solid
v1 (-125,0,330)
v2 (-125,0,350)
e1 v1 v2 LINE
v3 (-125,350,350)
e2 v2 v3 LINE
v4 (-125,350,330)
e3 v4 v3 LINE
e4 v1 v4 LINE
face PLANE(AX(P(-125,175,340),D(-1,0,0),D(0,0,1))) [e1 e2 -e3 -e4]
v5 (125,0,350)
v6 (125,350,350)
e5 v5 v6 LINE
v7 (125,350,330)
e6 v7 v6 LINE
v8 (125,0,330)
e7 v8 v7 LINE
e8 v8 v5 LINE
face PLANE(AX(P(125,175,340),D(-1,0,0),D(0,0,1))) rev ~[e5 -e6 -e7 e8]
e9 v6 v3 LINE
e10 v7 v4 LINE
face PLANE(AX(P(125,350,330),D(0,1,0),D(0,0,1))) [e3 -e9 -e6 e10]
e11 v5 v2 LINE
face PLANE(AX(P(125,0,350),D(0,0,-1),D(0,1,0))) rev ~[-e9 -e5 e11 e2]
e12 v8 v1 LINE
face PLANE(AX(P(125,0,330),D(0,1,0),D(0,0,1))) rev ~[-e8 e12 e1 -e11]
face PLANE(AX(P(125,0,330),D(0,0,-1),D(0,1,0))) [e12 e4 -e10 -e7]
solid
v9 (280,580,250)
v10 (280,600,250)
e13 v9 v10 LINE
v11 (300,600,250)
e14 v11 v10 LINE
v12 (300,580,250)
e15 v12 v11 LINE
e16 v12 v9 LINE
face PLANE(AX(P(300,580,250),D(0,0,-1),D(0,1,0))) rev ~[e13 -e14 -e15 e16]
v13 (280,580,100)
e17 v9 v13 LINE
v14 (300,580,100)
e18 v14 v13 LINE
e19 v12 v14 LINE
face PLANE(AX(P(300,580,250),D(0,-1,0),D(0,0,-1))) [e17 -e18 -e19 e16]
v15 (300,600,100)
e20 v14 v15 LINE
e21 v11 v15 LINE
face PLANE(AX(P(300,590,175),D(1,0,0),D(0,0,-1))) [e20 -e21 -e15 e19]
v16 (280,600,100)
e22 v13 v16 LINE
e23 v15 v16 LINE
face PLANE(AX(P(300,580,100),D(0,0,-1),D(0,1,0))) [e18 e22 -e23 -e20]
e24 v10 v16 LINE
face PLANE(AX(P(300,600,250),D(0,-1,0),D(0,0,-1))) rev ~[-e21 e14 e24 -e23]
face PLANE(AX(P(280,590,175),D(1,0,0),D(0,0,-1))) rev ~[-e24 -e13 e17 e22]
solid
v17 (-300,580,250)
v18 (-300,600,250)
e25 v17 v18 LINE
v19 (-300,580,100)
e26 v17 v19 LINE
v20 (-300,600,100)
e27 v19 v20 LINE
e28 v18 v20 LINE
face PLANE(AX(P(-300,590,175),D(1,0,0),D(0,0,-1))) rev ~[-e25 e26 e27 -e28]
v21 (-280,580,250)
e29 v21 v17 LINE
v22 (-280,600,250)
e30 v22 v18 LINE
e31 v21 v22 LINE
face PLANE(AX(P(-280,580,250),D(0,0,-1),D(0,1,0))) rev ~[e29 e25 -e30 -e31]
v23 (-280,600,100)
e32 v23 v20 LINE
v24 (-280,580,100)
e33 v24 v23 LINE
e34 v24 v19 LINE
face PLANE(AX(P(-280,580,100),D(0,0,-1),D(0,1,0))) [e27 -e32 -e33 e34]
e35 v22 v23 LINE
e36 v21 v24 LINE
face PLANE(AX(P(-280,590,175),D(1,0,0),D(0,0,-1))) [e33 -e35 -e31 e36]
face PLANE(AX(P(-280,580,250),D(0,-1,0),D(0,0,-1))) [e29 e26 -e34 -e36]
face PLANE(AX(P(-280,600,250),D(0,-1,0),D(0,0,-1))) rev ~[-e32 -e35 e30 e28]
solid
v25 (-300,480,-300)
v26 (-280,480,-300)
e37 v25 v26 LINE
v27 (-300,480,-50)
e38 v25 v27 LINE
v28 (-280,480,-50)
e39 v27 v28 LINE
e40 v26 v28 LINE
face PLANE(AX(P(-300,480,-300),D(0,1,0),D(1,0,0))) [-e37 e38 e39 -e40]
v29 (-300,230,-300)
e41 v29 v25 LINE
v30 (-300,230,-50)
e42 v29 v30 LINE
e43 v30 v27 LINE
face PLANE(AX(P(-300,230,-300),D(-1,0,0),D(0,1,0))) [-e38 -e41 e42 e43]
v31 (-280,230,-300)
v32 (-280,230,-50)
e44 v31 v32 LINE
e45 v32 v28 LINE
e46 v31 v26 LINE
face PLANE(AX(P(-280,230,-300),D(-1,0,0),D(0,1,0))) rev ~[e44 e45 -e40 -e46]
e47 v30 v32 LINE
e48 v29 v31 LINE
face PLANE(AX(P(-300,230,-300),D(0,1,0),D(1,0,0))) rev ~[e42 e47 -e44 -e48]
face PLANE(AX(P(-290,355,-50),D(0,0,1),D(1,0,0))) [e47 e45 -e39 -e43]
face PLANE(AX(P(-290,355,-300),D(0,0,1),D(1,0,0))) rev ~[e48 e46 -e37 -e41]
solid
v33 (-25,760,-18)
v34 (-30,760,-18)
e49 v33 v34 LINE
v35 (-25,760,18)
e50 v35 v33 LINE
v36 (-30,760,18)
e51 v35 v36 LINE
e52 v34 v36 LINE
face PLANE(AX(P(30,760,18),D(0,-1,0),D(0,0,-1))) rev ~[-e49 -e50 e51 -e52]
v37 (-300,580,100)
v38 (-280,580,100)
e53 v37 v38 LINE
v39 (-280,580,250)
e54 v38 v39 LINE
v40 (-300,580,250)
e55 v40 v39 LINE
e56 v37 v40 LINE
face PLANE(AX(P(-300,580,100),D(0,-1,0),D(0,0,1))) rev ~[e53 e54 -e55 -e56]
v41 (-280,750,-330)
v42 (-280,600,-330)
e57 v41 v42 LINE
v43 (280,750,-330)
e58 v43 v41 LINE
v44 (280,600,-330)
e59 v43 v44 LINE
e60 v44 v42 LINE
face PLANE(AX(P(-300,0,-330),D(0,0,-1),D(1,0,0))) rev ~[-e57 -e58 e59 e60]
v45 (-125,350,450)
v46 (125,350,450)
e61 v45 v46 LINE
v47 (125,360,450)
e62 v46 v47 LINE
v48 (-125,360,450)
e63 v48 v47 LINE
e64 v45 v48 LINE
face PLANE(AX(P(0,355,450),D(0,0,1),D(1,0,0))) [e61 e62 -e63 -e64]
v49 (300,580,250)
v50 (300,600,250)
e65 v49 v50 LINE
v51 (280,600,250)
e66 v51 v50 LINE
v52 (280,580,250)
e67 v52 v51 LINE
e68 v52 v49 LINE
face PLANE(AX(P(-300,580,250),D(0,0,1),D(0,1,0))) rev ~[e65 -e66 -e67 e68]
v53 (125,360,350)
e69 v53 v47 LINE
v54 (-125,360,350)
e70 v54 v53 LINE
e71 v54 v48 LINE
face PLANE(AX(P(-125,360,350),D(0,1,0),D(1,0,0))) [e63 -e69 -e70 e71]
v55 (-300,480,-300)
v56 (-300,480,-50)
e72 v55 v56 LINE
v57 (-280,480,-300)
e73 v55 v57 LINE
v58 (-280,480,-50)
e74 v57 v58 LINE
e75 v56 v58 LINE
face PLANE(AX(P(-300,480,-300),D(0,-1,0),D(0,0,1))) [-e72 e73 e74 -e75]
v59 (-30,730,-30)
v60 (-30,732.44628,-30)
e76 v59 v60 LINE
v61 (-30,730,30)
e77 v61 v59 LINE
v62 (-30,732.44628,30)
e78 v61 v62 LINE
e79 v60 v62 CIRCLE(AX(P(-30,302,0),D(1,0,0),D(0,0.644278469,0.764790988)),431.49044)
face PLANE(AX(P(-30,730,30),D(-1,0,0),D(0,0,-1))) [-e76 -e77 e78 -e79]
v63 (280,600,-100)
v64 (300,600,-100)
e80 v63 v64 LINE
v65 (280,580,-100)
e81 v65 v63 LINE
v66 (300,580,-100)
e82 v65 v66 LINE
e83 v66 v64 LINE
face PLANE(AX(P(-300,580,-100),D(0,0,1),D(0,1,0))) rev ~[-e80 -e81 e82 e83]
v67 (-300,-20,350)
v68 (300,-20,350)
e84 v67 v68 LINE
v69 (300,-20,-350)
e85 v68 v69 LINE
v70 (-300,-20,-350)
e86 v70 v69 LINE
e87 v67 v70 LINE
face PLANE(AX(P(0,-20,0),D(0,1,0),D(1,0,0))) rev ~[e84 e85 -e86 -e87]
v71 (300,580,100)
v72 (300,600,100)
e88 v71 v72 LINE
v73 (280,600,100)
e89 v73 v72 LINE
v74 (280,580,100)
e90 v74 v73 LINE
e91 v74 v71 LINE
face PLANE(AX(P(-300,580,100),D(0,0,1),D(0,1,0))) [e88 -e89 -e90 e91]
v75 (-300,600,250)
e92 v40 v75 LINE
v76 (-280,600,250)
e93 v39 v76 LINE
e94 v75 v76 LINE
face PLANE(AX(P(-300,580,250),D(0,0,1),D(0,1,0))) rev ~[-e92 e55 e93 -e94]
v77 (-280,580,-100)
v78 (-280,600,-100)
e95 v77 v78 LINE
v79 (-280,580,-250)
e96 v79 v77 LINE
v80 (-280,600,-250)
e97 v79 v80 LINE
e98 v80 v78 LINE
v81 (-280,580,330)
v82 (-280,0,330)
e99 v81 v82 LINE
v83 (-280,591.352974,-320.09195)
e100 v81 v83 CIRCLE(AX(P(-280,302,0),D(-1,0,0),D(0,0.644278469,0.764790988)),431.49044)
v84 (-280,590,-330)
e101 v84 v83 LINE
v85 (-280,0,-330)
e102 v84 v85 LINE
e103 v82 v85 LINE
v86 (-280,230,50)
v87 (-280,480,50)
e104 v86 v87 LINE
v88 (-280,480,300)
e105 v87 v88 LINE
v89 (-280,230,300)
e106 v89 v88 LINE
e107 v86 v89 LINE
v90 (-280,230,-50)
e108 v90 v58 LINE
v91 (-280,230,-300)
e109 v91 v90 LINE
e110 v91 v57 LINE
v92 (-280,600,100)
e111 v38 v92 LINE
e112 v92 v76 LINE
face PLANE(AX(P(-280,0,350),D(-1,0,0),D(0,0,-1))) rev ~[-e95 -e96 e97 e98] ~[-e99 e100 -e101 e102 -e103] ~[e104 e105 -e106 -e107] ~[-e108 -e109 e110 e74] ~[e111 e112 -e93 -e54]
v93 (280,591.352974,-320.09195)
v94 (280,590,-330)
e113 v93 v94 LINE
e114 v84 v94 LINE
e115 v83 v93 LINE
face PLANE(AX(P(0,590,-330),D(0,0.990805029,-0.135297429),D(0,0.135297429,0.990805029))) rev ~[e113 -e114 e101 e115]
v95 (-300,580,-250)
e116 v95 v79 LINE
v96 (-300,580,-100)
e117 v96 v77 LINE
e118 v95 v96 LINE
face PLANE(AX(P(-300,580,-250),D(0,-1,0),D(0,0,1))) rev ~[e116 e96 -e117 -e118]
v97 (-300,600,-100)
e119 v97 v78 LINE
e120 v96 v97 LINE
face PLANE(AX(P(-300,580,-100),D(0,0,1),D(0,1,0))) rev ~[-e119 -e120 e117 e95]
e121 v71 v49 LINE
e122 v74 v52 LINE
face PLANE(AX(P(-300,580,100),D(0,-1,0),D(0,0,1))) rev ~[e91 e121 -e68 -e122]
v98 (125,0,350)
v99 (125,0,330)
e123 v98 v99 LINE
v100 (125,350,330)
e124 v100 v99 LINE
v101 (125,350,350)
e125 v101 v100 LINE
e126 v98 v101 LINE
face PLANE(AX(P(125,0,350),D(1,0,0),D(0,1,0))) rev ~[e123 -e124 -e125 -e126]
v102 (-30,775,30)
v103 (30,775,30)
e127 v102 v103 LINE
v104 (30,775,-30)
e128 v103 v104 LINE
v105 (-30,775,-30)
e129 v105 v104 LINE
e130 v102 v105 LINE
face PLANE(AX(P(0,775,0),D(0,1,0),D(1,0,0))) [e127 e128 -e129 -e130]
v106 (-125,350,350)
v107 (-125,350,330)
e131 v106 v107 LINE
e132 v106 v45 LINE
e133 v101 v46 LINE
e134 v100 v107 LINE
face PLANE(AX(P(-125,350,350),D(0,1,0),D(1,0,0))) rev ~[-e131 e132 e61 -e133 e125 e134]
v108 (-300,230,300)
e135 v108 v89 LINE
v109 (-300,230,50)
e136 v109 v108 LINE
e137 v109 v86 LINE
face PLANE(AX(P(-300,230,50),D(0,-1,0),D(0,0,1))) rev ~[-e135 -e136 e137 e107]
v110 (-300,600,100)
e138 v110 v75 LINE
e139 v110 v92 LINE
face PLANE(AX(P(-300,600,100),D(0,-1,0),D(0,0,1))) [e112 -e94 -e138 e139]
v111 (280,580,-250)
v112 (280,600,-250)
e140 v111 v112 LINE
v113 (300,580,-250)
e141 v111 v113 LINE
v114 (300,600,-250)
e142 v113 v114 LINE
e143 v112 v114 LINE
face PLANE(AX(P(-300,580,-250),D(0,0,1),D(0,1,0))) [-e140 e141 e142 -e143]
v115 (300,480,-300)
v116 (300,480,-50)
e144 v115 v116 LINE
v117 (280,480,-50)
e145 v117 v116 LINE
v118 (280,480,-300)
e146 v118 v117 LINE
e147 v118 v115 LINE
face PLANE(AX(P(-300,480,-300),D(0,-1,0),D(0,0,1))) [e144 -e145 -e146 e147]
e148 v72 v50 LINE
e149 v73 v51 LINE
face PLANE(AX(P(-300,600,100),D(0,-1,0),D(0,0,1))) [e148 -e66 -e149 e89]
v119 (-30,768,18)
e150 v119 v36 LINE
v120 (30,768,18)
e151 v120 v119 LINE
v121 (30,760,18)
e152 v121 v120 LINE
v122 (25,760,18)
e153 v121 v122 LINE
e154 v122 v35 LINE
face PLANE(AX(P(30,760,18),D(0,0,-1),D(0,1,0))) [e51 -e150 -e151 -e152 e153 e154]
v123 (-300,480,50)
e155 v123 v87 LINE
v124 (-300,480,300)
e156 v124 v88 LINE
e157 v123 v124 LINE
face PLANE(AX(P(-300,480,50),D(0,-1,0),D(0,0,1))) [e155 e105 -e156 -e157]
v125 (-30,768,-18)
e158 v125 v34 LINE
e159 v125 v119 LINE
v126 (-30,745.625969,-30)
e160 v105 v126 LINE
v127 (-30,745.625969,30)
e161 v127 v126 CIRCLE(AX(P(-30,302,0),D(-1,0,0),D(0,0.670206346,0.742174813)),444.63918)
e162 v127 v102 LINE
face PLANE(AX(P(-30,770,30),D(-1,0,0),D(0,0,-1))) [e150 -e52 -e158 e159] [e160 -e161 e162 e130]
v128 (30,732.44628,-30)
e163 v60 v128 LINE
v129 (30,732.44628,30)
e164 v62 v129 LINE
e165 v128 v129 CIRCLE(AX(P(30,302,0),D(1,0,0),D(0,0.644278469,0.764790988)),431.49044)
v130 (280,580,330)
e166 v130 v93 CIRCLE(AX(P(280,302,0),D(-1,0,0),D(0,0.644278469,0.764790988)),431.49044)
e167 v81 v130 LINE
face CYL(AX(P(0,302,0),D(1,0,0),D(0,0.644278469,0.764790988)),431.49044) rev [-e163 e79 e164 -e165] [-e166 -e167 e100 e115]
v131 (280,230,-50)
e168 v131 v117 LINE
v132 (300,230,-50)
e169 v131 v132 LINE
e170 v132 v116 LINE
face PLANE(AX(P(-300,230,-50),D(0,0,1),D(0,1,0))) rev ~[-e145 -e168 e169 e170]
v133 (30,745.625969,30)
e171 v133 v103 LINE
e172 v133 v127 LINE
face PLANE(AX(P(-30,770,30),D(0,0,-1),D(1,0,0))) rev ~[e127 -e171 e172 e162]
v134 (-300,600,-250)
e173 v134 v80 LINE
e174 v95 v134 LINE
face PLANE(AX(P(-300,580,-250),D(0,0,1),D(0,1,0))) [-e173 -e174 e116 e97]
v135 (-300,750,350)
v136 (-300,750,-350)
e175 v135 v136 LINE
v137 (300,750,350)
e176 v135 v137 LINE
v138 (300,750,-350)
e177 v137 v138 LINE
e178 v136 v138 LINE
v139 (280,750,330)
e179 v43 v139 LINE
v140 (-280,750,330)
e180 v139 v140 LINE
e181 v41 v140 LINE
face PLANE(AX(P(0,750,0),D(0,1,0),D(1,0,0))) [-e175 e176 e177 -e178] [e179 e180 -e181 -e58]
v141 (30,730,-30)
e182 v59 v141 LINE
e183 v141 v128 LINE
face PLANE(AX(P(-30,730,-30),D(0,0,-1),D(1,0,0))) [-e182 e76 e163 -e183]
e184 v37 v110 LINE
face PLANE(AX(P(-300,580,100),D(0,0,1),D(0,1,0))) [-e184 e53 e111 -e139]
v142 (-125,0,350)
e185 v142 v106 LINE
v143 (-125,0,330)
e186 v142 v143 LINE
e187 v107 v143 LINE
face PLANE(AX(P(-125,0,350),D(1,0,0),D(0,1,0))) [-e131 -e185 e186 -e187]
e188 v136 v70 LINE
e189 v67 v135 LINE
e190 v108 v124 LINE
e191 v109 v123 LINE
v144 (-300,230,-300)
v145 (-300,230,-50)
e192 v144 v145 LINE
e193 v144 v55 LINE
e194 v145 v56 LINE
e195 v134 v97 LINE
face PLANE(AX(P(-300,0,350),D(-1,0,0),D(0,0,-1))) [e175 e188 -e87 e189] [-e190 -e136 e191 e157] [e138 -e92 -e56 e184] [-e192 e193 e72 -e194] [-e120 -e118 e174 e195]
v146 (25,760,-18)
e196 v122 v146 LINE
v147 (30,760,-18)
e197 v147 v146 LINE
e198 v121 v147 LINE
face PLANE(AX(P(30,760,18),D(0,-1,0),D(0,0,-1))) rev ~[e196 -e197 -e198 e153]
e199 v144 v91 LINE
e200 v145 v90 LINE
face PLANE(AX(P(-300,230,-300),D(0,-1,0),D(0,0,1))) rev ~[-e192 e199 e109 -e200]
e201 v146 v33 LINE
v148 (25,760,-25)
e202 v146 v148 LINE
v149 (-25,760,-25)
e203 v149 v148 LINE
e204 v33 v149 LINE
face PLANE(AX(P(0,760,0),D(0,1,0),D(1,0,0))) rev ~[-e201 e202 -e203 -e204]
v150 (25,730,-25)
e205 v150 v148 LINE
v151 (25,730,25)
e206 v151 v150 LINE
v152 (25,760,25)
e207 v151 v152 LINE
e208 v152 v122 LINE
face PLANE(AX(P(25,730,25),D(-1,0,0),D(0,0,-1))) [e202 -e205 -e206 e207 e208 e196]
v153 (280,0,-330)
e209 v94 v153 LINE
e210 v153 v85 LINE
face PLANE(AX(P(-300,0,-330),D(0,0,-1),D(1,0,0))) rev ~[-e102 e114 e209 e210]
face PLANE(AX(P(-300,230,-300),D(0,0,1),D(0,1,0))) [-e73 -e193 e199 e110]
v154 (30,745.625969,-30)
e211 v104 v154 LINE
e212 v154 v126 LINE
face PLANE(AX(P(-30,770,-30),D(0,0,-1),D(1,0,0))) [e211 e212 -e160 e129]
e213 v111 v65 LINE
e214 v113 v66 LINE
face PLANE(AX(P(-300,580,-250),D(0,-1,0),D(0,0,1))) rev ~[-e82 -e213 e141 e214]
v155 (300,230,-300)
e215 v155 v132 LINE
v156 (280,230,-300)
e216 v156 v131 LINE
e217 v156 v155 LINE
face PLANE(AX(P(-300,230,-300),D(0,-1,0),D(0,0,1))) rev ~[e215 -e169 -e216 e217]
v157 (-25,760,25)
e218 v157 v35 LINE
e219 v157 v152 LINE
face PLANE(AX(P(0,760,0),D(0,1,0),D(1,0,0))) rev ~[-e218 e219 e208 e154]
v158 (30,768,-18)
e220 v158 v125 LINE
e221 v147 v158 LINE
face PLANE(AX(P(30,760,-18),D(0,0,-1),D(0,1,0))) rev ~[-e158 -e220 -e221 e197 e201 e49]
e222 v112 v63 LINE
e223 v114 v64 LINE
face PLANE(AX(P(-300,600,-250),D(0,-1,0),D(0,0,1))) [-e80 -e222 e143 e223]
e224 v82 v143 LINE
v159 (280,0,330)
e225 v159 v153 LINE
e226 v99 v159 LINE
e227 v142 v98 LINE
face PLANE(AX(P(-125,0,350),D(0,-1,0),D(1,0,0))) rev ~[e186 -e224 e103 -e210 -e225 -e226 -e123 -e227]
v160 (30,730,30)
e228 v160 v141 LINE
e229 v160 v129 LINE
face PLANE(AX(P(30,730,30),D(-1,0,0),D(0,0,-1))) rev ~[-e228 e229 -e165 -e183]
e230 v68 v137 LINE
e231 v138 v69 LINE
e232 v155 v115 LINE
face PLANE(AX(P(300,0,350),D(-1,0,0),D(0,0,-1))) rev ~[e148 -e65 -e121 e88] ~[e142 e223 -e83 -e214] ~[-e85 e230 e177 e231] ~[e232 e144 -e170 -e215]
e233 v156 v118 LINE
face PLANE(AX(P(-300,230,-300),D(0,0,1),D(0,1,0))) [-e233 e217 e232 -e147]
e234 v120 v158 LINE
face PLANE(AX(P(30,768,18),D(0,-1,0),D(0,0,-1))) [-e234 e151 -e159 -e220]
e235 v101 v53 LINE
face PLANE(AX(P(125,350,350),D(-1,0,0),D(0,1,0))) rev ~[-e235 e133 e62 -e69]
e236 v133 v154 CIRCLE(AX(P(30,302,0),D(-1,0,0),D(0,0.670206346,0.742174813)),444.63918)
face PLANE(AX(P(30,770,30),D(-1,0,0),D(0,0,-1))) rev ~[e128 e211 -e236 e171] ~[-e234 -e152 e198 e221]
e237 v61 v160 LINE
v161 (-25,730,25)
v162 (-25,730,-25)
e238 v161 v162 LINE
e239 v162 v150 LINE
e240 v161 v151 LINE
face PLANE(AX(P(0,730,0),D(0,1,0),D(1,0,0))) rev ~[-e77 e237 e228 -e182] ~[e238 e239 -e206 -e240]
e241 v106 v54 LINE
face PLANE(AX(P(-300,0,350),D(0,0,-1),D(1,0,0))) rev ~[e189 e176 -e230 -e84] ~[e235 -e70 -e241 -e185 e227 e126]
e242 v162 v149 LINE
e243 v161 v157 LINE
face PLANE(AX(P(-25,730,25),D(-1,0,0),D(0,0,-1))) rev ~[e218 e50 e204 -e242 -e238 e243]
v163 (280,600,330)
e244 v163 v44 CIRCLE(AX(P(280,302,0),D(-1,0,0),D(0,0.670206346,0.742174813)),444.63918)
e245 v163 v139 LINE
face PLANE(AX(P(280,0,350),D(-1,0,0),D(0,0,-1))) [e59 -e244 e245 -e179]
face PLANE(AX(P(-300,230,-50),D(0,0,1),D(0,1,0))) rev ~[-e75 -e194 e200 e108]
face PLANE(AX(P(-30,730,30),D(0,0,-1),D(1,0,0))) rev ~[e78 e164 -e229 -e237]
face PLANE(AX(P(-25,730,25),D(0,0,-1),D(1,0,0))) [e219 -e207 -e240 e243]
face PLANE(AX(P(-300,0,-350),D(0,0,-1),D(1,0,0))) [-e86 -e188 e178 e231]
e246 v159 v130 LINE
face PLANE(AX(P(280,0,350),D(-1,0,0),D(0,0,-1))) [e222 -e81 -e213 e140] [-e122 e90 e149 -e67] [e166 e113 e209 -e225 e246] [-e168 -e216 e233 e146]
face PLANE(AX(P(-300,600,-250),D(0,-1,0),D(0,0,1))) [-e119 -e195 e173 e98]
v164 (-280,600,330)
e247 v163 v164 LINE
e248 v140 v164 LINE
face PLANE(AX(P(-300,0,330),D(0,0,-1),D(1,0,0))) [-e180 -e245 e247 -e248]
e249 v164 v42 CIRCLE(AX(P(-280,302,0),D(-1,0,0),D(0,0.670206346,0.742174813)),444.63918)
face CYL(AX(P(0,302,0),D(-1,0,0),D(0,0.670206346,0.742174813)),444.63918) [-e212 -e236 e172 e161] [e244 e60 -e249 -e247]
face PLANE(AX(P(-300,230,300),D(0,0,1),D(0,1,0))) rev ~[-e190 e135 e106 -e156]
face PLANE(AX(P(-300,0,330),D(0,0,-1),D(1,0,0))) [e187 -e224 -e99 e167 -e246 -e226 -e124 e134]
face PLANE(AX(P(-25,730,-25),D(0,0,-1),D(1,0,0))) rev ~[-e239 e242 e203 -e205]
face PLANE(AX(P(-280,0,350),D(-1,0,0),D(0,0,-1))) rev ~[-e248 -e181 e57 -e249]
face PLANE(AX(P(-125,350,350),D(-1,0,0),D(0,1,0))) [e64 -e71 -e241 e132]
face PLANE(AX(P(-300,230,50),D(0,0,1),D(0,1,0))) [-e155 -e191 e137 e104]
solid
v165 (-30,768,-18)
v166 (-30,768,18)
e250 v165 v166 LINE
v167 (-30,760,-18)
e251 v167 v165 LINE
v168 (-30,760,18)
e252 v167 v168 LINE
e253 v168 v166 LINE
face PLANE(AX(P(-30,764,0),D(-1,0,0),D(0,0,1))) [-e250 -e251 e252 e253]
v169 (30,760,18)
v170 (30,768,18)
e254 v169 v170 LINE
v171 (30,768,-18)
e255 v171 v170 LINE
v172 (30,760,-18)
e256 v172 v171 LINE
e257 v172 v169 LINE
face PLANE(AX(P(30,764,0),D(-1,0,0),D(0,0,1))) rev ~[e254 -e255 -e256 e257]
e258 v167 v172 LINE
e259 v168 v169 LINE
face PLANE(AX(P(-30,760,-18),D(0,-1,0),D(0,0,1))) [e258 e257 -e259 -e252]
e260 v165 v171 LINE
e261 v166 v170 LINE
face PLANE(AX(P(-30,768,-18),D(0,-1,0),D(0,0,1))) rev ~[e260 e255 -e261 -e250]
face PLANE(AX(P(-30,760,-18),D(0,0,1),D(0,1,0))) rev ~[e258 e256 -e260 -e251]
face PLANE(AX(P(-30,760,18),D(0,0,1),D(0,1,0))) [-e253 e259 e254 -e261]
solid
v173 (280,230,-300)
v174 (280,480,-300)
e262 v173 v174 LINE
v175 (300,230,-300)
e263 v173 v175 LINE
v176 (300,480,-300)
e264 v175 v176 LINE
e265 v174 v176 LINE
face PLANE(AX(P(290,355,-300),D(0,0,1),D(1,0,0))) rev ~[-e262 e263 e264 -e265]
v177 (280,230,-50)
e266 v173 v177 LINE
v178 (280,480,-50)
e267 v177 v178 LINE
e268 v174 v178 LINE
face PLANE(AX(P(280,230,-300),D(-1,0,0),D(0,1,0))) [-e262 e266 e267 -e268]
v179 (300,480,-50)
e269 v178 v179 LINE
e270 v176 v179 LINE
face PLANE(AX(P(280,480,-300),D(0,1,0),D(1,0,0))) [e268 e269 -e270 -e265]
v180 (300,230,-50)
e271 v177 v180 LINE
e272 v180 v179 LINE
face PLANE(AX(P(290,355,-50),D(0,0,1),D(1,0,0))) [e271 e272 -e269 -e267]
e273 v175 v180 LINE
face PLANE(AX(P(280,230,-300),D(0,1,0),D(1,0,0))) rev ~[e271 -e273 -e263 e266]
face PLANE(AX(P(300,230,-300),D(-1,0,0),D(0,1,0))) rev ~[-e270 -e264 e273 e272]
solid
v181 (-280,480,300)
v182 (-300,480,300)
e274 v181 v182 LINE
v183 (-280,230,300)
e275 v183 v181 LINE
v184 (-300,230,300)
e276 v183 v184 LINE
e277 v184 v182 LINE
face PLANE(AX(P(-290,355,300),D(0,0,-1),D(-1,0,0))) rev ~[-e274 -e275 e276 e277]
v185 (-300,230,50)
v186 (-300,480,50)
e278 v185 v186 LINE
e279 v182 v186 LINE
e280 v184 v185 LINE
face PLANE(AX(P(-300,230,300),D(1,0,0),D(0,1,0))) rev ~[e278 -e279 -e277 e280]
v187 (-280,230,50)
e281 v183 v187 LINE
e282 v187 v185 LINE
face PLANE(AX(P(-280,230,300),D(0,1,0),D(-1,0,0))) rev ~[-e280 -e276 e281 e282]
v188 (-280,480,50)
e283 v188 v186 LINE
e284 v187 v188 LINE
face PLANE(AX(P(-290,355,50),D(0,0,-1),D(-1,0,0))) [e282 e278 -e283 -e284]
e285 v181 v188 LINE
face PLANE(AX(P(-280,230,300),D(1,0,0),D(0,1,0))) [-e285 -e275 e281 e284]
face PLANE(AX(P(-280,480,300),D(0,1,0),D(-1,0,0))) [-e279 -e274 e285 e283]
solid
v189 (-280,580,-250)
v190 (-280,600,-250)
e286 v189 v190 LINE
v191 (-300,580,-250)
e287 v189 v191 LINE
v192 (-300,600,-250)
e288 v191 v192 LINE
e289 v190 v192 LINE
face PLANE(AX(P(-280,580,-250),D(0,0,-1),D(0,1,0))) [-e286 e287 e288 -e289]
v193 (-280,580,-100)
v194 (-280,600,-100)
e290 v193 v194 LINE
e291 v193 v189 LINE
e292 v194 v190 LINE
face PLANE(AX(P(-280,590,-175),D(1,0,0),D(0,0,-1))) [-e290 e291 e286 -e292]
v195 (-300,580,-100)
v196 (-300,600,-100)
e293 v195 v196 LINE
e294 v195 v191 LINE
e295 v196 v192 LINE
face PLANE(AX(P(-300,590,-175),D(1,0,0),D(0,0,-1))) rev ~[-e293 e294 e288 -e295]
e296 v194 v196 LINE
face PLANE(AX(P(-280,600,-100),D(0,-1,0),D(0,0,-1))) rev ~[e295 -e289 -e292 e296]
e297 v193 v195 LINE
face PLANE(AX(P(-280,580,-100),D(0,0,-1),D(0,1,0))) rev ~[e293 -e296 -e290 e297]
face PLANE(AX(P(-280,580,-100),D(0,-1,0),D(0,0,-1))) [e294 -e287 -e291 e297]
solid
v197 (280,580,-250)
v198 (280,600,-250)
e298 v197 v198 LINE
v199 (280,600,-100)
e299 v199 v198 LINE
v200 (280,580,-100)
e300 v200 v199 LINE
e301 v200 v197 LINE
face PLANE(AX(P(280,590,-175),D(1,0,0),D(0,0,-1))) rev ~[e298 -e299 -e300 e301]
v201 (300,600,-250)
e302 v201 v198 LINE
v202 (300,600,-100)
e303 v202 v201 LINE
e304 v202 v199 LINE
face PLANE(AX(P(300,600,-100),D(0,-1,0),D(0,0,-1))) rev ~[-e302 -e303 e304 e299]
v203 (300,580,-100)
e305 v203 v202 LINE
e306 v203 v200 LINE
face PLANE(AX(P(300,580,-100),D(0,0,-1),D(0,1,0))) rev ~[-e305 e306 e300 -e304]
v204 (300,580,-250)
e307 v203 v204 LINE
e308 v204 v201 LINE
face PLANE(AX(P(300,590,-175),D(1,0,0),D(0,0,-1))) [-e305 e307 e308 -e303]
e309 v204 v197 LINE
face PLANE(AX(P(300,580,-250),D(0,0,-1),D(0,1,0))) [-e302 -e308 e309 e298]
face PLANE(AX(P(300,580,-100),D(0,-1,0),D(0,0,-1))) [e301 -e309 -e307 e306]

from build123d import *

# Parameters (mm, degrees)
SKETCH16_W             = 600
SKETCH16_H             = 700
BOSS_EXTRUDE1_DEPTH    = 20
SKETCH16_2_W           = 600
SKETCH16_2_H           = 700
BOSS_EXTRUDE2_DEPTH    = 750
SHELL1_T               = -20
SKETCH17_W             = 560
SKETCH17_H             = 20
SKETCH28_W             = 250
SKETCH28_H             = 250
CUT_EXTRUDE6_DEPTH     = 1023.252415013
SKETCH28_5_W           = 250
SKETCH28_5_H           = 250
CUT_EXTRUDE7_DEPTH     = 170
SKETCH28_6_W           = 150
SKETCH28_6_H           = 20
CUT_EXTRUDE8_DEPTH     = 1023.252415013
SKETCH28_7_W           = 150
SKETCH28_7_H           = 20
CUT_EXTRUDE9_DEPTH     = 1023.252415013
SKETCH35_W             = 250
SKETCH35_H             = 350
CUT_EXTRUDE10_DEPTH    = 170
SKETCH36_W             = 250
SKETCH36_H             = 10
BOSS_EXTRUDE6_DEPTH    = 100
SKETCH45_W             = 60
SKETCH45_H             = 60
BOSS_EXTRUDE7_DEPTH    = 40
SKETCH46_W             = 50
SKETCH46_H             = 50
CUT_EXTRUDE12_DEPTH    = 30
SKETCH47_W             = 60
SKETCH47_H             = 60
BOSS_EXTRUDE8_DEPTH    = 5
SKETCH48_W             = 36
SKETCH48_H             = 8
CUT_EXTRUDE13_DEPTH    = 63
SKETCH49_W             = 20
SKETCH49_H             = 350
BOSS_EXTRUDE10_DEPTH   = 250
SKETCH50_W             = 20
SKETCH50_H             = 250
BOSS_EXTRUDE11_DEPTH   = 250
SKETCH52_W             = 20
SKETCH52_H             = 250
BOSS_EXTRUDE12_DEPTH   = 250
SKETCH53_W             = 20
SKETCH53_H             = 250
BOSS_EXTRUDE13_DEPTH   = 250
SKETCH54_W             = 36
SKETCH54_H             = 8
BOSS_EXTRUDE14_DEPTH   = 60
SKETCH55_W             = 150
SKETCH55_H             = 20
BOSS_EXTRUDE15_DEPTH   = 20
BOSS_EXTRUDE15_2_DEPTH = 20
SKETCH56_W             = 150
SKETCH56_H             = 20
BOSS_EXTRUDE16_DEPTH   = 20
BOSS_EXTRUDE16_2_DEPTH = 20


with BuildPart() as part:
    # Sketch16 → Boss-Extrude1 (new body)
    with BuildSketch(Plane(origin=(0, 0, 0), x_dir=(1, 0, 0), z_dir=(0, 1, 0))):
        Rectangle(SKETCH16_W, SKETCH16_H)
    extrude(amount=-BOSS_EXTRUDE1_DEPTH)

    # Sketch16<2> → Boss-Extrude2 (add)
    with BuildSketch(Plane(origin=(0, 0, 0), x_dir=(1, 0, 0), z_dir=(0, 1, 0))):
        Rectangle(SKETCH16_2_W, SKETCH16_2_H)
    extrude(amount=BOSS_EXTRUDE2_DEPTH)

    # Shell1
    shell1_openings = [part.faces().sort_by_distance(p)[0] for p in [
        (0, 750, 0),
    ]]
    offset(amount=SHELL1_T, openings=shell1_openings, kind=Kind.INTERSECTION)

    # Sweep1: sweep along a path in Sketch18
    with BuildLine(Plane(origin=(0, 0, 0), x_dir=(0, 0, -1), z_dir=(1, 0, 0))) as sweep1_path:
        ThreePointArc((-330, 590), (0, 740), (330, 590))
    # Sketch17 → Sweep1 (sweep)
    with BuildSketch(Plane.XY.offset(330)):
        with Locations((0, 590)):
            Rectangle(SKETCH17_W, SKETCH17_H)
    sweep(path=sweep1_path.line)

    # Sketch28 → Cut-Extrude6 (cut, through all)
    with BuildSketch(Plane.ZY.offset(300)):
        with Locations((-175, 355)):
            Rectangle(SKETCH28_W, SKETCH28_H)
    extrude(amount=-CUT_EXTRUDE6_DEPTH, mode=Mode.SUBTRACT)

    # Sketch28<5> → Cut-Extrude7 (cut)
    with BuildSketch(Plane.ZY.offset(300)):
        with Locations((175, 355)):
            Rectangle(SKETCH28_5_W, SKETCH28_5_H)
    extrude(amount=-CUT_EXTRUDE7_DEPTH, mode=Mode.SUBTRACT)

    # Sketch28<6> → Cut-Extrude8 (cut, through all)
    with BuildSketch(Plane.ZY.offset(300)):
        with Locations((-175, 590)):
            Rectangle(SKETCH28_6_W, SKETCH28_6_H)
    extrude(amount=-CUT_EXTRUDE8_DEPTH, mode=Mode.SUBTRACT)

    # Sketch28<7> → Cut-Extrude9 (cut, through all)
    with BuildSketch(Plane.ZY.offset(300)):
        with Locations((175, 590)):
            Rectangle(SKETCH28_7_W, SKETCH28_7_H)
    extrude(amount=-CUT_EXTRUDE9_DEPTH, mode=Mode.SUBTRACT)

    # Sketch35 → Cut-Extrude10 (cut)
    with BuildSketch(Plane.XY.offset(350)):
        with Locations((0, 175)):
            Rectangle(SKETCH35_W, SKETCH35_H)
    extrude(amount=-CUT_EXTRUDE10_DEPTH, mode=Mode.SUBTRACT)

    # Sketch36 → Boss-Extrude6 (add)
    with BuildSketch(Plane.XY.offset(350)):
        with Locations((0, 355)):
            Rectangle(SKETCH36_W, SKETCH36_H)
    extrude(amount=BOSS_EXTRUDE6_DEPTH)

    # Sketch45 → Boss-Extrude7 (add)
    with BuildSketch(Plane(origin=(0, 730, 0), x_dir=(1, 0, 0), z_dir=(0, 1, 0))):
        Rectangle(SKETCH45_W, SKETCH45_H)
    extrude(amount=BOSS_EXTRUDE7_DEPTH)

    # Sketch46 → Cut-Extrude12 (cut)
    with BuildSketch(Plane(origin=(0, 730, 0), x_dir=(1, 0, 0), z_dir=(0, 1, 0))):
        Rectangle(SKETCH46_W, SKETCH46_H)
    extrude(amount=CUT_EXTRUDE12_DEPTH, mode=Mode.SUBTRACT)

    # Sketch47 → Boss-Extrude8 (add)
    with BuildSketch(Plane(origin=(0, 770, 0), x_dir=(1, 0, 0), z_dir=(0, 1, 0))):
        Rectangle(SKETCH47_W, SKETCH47_H)
    extrude(amount=BOSS_EXTRUDE8_DEPTH)

    # Sketch48 → Cut-Extrude13 (cut)
    with BuildSketch(Plane(origin=(30, 0, 0), x_dir=(0, 0, -1), z_dir=(1, 0, 0))):
        with Locations((0, 764)):
            Rectangle(SKETCH48_W, SKETCH48_H)
    extrude(amount=-CUT_EXTRUDE13_DEPTH, mode=Mode.SUBTRACT)


with BuildPart() as body_2:
    # Sketch49 → Boss-Extrude10 (new body)
    with BuildSketch(Plane.ZY.offset(-125)):
        with Locations((340, 175)):
            Rectangle(SKETCH49_W, SKETCH49_H)
    extrude(amount=BOSS_EXTRUDE10_DEPTH)


with BuildPart() as body_3:
    # Sketch50 → Boss-Extrude11 (new body)
    with BuildSketch(Plane.XY.offset(-300)):
        with Locations((290, 355)):
            Rectangle(SKETCH50_W, SKETCH50_H)
    extrude(amount=BOSS_EXTRUDE11_DEPTH)


with BuildPart() as body_4:
    # Sketch52 → Boss-Extrude12 (new body)
    with BuildSketch(Plane(origin=(0, 0, 300), x_dir=(-1, 0, 0), z_dir=(0, 0, -1))):
        with Locations((290, 355)):
            Rectangle(SKETCH52_W, SKETCH52_H)
    extrude(amount=BOSS_EXTRUDE12_DEPTH)


with BuildPart() as body_5:
    # Sketch53 → Boss-Extrude13 (new body)
    with BuildSketch(Plane.XY.offset(-300)):
        with Locations((-290, 355)):
            Rectangle(SKETCH53_W, SKETCH53_H)
    extrude(amount=BOSS_EXTRUDE13_DEPTH)


with BuildPart() as body_6:
    # Sketch54 → Boss-Extrude14 (new body)
    with BuildSketch(Plane.ZY.offset(30)):
        with Locations((0, 764)):
            Rectangle(SKETCH54_W, SKETCH54_H)
    extrude(amount=-BOSS_EXTRUDE14_DEPTH)


with BuildPart() as body_7:
    # Sketch55 → Boss-Extrude15 (new body)
    with BuildSketch(Plane(origin=(-280, 0, 0), x_dir=(0, 0, -1), z_dir=(1, 0, 0))):
        with Locations((175, 590)):
            Rectangle(SKETCH55_W, SKETCH55_H)
    extrude(amount=-BOSS_EXTRUDE15_DEPTH)


with BuildPart() as body_8:
    # Sketch55 → Boss-Extrude15 2 (new body)
    with BuildSketch(Plane(origin=(-280, 0, 0), x_dir=(0, 0, -1), z_dir=(1, 0, 0))):
        with Locations((-175, 590)):
            Rectangle(SKETCH55_W, SKETCH55_H)
    extrude(amount=-BOSS_EXTRUDE15_2_DEPTH)


with BuildPart() as body_9:
    # Sketch56 → Boss-Extrude16 (new body)
    with BuildSketch(Plane(origin=(300, 0, 0), x_dir=(0, 0, -1), z_dir=(1, 0, 0))):
        with Locations((175, 590)):
            Rectangle(SKETCH56_W, SKETCH56_H)
    extrude(amount=-BOSS_EXTRUDE16_DEPTH)


with BuildPart() as body_10:
    # Sketch56 → Boss-Extrude16 2 (new body)
    with BuildSketch(Plane(origin=(300, 0, 0), x_dir=(0, 0, -1), z_dir=(1, 0, 0))):
        with Locations((-175, 590)):
            Rectangle(SKETCH56_W, SKETCH56_H)
    extrude(amount=-BOSS_EXTRUDE16_2_DEPTH)


solid = Compound([part.part, body_2.part, body_3.part, body_4.part, body_5.part, body_6.part, body_7.part, body_8.part, body_9.part, body_10.part])
